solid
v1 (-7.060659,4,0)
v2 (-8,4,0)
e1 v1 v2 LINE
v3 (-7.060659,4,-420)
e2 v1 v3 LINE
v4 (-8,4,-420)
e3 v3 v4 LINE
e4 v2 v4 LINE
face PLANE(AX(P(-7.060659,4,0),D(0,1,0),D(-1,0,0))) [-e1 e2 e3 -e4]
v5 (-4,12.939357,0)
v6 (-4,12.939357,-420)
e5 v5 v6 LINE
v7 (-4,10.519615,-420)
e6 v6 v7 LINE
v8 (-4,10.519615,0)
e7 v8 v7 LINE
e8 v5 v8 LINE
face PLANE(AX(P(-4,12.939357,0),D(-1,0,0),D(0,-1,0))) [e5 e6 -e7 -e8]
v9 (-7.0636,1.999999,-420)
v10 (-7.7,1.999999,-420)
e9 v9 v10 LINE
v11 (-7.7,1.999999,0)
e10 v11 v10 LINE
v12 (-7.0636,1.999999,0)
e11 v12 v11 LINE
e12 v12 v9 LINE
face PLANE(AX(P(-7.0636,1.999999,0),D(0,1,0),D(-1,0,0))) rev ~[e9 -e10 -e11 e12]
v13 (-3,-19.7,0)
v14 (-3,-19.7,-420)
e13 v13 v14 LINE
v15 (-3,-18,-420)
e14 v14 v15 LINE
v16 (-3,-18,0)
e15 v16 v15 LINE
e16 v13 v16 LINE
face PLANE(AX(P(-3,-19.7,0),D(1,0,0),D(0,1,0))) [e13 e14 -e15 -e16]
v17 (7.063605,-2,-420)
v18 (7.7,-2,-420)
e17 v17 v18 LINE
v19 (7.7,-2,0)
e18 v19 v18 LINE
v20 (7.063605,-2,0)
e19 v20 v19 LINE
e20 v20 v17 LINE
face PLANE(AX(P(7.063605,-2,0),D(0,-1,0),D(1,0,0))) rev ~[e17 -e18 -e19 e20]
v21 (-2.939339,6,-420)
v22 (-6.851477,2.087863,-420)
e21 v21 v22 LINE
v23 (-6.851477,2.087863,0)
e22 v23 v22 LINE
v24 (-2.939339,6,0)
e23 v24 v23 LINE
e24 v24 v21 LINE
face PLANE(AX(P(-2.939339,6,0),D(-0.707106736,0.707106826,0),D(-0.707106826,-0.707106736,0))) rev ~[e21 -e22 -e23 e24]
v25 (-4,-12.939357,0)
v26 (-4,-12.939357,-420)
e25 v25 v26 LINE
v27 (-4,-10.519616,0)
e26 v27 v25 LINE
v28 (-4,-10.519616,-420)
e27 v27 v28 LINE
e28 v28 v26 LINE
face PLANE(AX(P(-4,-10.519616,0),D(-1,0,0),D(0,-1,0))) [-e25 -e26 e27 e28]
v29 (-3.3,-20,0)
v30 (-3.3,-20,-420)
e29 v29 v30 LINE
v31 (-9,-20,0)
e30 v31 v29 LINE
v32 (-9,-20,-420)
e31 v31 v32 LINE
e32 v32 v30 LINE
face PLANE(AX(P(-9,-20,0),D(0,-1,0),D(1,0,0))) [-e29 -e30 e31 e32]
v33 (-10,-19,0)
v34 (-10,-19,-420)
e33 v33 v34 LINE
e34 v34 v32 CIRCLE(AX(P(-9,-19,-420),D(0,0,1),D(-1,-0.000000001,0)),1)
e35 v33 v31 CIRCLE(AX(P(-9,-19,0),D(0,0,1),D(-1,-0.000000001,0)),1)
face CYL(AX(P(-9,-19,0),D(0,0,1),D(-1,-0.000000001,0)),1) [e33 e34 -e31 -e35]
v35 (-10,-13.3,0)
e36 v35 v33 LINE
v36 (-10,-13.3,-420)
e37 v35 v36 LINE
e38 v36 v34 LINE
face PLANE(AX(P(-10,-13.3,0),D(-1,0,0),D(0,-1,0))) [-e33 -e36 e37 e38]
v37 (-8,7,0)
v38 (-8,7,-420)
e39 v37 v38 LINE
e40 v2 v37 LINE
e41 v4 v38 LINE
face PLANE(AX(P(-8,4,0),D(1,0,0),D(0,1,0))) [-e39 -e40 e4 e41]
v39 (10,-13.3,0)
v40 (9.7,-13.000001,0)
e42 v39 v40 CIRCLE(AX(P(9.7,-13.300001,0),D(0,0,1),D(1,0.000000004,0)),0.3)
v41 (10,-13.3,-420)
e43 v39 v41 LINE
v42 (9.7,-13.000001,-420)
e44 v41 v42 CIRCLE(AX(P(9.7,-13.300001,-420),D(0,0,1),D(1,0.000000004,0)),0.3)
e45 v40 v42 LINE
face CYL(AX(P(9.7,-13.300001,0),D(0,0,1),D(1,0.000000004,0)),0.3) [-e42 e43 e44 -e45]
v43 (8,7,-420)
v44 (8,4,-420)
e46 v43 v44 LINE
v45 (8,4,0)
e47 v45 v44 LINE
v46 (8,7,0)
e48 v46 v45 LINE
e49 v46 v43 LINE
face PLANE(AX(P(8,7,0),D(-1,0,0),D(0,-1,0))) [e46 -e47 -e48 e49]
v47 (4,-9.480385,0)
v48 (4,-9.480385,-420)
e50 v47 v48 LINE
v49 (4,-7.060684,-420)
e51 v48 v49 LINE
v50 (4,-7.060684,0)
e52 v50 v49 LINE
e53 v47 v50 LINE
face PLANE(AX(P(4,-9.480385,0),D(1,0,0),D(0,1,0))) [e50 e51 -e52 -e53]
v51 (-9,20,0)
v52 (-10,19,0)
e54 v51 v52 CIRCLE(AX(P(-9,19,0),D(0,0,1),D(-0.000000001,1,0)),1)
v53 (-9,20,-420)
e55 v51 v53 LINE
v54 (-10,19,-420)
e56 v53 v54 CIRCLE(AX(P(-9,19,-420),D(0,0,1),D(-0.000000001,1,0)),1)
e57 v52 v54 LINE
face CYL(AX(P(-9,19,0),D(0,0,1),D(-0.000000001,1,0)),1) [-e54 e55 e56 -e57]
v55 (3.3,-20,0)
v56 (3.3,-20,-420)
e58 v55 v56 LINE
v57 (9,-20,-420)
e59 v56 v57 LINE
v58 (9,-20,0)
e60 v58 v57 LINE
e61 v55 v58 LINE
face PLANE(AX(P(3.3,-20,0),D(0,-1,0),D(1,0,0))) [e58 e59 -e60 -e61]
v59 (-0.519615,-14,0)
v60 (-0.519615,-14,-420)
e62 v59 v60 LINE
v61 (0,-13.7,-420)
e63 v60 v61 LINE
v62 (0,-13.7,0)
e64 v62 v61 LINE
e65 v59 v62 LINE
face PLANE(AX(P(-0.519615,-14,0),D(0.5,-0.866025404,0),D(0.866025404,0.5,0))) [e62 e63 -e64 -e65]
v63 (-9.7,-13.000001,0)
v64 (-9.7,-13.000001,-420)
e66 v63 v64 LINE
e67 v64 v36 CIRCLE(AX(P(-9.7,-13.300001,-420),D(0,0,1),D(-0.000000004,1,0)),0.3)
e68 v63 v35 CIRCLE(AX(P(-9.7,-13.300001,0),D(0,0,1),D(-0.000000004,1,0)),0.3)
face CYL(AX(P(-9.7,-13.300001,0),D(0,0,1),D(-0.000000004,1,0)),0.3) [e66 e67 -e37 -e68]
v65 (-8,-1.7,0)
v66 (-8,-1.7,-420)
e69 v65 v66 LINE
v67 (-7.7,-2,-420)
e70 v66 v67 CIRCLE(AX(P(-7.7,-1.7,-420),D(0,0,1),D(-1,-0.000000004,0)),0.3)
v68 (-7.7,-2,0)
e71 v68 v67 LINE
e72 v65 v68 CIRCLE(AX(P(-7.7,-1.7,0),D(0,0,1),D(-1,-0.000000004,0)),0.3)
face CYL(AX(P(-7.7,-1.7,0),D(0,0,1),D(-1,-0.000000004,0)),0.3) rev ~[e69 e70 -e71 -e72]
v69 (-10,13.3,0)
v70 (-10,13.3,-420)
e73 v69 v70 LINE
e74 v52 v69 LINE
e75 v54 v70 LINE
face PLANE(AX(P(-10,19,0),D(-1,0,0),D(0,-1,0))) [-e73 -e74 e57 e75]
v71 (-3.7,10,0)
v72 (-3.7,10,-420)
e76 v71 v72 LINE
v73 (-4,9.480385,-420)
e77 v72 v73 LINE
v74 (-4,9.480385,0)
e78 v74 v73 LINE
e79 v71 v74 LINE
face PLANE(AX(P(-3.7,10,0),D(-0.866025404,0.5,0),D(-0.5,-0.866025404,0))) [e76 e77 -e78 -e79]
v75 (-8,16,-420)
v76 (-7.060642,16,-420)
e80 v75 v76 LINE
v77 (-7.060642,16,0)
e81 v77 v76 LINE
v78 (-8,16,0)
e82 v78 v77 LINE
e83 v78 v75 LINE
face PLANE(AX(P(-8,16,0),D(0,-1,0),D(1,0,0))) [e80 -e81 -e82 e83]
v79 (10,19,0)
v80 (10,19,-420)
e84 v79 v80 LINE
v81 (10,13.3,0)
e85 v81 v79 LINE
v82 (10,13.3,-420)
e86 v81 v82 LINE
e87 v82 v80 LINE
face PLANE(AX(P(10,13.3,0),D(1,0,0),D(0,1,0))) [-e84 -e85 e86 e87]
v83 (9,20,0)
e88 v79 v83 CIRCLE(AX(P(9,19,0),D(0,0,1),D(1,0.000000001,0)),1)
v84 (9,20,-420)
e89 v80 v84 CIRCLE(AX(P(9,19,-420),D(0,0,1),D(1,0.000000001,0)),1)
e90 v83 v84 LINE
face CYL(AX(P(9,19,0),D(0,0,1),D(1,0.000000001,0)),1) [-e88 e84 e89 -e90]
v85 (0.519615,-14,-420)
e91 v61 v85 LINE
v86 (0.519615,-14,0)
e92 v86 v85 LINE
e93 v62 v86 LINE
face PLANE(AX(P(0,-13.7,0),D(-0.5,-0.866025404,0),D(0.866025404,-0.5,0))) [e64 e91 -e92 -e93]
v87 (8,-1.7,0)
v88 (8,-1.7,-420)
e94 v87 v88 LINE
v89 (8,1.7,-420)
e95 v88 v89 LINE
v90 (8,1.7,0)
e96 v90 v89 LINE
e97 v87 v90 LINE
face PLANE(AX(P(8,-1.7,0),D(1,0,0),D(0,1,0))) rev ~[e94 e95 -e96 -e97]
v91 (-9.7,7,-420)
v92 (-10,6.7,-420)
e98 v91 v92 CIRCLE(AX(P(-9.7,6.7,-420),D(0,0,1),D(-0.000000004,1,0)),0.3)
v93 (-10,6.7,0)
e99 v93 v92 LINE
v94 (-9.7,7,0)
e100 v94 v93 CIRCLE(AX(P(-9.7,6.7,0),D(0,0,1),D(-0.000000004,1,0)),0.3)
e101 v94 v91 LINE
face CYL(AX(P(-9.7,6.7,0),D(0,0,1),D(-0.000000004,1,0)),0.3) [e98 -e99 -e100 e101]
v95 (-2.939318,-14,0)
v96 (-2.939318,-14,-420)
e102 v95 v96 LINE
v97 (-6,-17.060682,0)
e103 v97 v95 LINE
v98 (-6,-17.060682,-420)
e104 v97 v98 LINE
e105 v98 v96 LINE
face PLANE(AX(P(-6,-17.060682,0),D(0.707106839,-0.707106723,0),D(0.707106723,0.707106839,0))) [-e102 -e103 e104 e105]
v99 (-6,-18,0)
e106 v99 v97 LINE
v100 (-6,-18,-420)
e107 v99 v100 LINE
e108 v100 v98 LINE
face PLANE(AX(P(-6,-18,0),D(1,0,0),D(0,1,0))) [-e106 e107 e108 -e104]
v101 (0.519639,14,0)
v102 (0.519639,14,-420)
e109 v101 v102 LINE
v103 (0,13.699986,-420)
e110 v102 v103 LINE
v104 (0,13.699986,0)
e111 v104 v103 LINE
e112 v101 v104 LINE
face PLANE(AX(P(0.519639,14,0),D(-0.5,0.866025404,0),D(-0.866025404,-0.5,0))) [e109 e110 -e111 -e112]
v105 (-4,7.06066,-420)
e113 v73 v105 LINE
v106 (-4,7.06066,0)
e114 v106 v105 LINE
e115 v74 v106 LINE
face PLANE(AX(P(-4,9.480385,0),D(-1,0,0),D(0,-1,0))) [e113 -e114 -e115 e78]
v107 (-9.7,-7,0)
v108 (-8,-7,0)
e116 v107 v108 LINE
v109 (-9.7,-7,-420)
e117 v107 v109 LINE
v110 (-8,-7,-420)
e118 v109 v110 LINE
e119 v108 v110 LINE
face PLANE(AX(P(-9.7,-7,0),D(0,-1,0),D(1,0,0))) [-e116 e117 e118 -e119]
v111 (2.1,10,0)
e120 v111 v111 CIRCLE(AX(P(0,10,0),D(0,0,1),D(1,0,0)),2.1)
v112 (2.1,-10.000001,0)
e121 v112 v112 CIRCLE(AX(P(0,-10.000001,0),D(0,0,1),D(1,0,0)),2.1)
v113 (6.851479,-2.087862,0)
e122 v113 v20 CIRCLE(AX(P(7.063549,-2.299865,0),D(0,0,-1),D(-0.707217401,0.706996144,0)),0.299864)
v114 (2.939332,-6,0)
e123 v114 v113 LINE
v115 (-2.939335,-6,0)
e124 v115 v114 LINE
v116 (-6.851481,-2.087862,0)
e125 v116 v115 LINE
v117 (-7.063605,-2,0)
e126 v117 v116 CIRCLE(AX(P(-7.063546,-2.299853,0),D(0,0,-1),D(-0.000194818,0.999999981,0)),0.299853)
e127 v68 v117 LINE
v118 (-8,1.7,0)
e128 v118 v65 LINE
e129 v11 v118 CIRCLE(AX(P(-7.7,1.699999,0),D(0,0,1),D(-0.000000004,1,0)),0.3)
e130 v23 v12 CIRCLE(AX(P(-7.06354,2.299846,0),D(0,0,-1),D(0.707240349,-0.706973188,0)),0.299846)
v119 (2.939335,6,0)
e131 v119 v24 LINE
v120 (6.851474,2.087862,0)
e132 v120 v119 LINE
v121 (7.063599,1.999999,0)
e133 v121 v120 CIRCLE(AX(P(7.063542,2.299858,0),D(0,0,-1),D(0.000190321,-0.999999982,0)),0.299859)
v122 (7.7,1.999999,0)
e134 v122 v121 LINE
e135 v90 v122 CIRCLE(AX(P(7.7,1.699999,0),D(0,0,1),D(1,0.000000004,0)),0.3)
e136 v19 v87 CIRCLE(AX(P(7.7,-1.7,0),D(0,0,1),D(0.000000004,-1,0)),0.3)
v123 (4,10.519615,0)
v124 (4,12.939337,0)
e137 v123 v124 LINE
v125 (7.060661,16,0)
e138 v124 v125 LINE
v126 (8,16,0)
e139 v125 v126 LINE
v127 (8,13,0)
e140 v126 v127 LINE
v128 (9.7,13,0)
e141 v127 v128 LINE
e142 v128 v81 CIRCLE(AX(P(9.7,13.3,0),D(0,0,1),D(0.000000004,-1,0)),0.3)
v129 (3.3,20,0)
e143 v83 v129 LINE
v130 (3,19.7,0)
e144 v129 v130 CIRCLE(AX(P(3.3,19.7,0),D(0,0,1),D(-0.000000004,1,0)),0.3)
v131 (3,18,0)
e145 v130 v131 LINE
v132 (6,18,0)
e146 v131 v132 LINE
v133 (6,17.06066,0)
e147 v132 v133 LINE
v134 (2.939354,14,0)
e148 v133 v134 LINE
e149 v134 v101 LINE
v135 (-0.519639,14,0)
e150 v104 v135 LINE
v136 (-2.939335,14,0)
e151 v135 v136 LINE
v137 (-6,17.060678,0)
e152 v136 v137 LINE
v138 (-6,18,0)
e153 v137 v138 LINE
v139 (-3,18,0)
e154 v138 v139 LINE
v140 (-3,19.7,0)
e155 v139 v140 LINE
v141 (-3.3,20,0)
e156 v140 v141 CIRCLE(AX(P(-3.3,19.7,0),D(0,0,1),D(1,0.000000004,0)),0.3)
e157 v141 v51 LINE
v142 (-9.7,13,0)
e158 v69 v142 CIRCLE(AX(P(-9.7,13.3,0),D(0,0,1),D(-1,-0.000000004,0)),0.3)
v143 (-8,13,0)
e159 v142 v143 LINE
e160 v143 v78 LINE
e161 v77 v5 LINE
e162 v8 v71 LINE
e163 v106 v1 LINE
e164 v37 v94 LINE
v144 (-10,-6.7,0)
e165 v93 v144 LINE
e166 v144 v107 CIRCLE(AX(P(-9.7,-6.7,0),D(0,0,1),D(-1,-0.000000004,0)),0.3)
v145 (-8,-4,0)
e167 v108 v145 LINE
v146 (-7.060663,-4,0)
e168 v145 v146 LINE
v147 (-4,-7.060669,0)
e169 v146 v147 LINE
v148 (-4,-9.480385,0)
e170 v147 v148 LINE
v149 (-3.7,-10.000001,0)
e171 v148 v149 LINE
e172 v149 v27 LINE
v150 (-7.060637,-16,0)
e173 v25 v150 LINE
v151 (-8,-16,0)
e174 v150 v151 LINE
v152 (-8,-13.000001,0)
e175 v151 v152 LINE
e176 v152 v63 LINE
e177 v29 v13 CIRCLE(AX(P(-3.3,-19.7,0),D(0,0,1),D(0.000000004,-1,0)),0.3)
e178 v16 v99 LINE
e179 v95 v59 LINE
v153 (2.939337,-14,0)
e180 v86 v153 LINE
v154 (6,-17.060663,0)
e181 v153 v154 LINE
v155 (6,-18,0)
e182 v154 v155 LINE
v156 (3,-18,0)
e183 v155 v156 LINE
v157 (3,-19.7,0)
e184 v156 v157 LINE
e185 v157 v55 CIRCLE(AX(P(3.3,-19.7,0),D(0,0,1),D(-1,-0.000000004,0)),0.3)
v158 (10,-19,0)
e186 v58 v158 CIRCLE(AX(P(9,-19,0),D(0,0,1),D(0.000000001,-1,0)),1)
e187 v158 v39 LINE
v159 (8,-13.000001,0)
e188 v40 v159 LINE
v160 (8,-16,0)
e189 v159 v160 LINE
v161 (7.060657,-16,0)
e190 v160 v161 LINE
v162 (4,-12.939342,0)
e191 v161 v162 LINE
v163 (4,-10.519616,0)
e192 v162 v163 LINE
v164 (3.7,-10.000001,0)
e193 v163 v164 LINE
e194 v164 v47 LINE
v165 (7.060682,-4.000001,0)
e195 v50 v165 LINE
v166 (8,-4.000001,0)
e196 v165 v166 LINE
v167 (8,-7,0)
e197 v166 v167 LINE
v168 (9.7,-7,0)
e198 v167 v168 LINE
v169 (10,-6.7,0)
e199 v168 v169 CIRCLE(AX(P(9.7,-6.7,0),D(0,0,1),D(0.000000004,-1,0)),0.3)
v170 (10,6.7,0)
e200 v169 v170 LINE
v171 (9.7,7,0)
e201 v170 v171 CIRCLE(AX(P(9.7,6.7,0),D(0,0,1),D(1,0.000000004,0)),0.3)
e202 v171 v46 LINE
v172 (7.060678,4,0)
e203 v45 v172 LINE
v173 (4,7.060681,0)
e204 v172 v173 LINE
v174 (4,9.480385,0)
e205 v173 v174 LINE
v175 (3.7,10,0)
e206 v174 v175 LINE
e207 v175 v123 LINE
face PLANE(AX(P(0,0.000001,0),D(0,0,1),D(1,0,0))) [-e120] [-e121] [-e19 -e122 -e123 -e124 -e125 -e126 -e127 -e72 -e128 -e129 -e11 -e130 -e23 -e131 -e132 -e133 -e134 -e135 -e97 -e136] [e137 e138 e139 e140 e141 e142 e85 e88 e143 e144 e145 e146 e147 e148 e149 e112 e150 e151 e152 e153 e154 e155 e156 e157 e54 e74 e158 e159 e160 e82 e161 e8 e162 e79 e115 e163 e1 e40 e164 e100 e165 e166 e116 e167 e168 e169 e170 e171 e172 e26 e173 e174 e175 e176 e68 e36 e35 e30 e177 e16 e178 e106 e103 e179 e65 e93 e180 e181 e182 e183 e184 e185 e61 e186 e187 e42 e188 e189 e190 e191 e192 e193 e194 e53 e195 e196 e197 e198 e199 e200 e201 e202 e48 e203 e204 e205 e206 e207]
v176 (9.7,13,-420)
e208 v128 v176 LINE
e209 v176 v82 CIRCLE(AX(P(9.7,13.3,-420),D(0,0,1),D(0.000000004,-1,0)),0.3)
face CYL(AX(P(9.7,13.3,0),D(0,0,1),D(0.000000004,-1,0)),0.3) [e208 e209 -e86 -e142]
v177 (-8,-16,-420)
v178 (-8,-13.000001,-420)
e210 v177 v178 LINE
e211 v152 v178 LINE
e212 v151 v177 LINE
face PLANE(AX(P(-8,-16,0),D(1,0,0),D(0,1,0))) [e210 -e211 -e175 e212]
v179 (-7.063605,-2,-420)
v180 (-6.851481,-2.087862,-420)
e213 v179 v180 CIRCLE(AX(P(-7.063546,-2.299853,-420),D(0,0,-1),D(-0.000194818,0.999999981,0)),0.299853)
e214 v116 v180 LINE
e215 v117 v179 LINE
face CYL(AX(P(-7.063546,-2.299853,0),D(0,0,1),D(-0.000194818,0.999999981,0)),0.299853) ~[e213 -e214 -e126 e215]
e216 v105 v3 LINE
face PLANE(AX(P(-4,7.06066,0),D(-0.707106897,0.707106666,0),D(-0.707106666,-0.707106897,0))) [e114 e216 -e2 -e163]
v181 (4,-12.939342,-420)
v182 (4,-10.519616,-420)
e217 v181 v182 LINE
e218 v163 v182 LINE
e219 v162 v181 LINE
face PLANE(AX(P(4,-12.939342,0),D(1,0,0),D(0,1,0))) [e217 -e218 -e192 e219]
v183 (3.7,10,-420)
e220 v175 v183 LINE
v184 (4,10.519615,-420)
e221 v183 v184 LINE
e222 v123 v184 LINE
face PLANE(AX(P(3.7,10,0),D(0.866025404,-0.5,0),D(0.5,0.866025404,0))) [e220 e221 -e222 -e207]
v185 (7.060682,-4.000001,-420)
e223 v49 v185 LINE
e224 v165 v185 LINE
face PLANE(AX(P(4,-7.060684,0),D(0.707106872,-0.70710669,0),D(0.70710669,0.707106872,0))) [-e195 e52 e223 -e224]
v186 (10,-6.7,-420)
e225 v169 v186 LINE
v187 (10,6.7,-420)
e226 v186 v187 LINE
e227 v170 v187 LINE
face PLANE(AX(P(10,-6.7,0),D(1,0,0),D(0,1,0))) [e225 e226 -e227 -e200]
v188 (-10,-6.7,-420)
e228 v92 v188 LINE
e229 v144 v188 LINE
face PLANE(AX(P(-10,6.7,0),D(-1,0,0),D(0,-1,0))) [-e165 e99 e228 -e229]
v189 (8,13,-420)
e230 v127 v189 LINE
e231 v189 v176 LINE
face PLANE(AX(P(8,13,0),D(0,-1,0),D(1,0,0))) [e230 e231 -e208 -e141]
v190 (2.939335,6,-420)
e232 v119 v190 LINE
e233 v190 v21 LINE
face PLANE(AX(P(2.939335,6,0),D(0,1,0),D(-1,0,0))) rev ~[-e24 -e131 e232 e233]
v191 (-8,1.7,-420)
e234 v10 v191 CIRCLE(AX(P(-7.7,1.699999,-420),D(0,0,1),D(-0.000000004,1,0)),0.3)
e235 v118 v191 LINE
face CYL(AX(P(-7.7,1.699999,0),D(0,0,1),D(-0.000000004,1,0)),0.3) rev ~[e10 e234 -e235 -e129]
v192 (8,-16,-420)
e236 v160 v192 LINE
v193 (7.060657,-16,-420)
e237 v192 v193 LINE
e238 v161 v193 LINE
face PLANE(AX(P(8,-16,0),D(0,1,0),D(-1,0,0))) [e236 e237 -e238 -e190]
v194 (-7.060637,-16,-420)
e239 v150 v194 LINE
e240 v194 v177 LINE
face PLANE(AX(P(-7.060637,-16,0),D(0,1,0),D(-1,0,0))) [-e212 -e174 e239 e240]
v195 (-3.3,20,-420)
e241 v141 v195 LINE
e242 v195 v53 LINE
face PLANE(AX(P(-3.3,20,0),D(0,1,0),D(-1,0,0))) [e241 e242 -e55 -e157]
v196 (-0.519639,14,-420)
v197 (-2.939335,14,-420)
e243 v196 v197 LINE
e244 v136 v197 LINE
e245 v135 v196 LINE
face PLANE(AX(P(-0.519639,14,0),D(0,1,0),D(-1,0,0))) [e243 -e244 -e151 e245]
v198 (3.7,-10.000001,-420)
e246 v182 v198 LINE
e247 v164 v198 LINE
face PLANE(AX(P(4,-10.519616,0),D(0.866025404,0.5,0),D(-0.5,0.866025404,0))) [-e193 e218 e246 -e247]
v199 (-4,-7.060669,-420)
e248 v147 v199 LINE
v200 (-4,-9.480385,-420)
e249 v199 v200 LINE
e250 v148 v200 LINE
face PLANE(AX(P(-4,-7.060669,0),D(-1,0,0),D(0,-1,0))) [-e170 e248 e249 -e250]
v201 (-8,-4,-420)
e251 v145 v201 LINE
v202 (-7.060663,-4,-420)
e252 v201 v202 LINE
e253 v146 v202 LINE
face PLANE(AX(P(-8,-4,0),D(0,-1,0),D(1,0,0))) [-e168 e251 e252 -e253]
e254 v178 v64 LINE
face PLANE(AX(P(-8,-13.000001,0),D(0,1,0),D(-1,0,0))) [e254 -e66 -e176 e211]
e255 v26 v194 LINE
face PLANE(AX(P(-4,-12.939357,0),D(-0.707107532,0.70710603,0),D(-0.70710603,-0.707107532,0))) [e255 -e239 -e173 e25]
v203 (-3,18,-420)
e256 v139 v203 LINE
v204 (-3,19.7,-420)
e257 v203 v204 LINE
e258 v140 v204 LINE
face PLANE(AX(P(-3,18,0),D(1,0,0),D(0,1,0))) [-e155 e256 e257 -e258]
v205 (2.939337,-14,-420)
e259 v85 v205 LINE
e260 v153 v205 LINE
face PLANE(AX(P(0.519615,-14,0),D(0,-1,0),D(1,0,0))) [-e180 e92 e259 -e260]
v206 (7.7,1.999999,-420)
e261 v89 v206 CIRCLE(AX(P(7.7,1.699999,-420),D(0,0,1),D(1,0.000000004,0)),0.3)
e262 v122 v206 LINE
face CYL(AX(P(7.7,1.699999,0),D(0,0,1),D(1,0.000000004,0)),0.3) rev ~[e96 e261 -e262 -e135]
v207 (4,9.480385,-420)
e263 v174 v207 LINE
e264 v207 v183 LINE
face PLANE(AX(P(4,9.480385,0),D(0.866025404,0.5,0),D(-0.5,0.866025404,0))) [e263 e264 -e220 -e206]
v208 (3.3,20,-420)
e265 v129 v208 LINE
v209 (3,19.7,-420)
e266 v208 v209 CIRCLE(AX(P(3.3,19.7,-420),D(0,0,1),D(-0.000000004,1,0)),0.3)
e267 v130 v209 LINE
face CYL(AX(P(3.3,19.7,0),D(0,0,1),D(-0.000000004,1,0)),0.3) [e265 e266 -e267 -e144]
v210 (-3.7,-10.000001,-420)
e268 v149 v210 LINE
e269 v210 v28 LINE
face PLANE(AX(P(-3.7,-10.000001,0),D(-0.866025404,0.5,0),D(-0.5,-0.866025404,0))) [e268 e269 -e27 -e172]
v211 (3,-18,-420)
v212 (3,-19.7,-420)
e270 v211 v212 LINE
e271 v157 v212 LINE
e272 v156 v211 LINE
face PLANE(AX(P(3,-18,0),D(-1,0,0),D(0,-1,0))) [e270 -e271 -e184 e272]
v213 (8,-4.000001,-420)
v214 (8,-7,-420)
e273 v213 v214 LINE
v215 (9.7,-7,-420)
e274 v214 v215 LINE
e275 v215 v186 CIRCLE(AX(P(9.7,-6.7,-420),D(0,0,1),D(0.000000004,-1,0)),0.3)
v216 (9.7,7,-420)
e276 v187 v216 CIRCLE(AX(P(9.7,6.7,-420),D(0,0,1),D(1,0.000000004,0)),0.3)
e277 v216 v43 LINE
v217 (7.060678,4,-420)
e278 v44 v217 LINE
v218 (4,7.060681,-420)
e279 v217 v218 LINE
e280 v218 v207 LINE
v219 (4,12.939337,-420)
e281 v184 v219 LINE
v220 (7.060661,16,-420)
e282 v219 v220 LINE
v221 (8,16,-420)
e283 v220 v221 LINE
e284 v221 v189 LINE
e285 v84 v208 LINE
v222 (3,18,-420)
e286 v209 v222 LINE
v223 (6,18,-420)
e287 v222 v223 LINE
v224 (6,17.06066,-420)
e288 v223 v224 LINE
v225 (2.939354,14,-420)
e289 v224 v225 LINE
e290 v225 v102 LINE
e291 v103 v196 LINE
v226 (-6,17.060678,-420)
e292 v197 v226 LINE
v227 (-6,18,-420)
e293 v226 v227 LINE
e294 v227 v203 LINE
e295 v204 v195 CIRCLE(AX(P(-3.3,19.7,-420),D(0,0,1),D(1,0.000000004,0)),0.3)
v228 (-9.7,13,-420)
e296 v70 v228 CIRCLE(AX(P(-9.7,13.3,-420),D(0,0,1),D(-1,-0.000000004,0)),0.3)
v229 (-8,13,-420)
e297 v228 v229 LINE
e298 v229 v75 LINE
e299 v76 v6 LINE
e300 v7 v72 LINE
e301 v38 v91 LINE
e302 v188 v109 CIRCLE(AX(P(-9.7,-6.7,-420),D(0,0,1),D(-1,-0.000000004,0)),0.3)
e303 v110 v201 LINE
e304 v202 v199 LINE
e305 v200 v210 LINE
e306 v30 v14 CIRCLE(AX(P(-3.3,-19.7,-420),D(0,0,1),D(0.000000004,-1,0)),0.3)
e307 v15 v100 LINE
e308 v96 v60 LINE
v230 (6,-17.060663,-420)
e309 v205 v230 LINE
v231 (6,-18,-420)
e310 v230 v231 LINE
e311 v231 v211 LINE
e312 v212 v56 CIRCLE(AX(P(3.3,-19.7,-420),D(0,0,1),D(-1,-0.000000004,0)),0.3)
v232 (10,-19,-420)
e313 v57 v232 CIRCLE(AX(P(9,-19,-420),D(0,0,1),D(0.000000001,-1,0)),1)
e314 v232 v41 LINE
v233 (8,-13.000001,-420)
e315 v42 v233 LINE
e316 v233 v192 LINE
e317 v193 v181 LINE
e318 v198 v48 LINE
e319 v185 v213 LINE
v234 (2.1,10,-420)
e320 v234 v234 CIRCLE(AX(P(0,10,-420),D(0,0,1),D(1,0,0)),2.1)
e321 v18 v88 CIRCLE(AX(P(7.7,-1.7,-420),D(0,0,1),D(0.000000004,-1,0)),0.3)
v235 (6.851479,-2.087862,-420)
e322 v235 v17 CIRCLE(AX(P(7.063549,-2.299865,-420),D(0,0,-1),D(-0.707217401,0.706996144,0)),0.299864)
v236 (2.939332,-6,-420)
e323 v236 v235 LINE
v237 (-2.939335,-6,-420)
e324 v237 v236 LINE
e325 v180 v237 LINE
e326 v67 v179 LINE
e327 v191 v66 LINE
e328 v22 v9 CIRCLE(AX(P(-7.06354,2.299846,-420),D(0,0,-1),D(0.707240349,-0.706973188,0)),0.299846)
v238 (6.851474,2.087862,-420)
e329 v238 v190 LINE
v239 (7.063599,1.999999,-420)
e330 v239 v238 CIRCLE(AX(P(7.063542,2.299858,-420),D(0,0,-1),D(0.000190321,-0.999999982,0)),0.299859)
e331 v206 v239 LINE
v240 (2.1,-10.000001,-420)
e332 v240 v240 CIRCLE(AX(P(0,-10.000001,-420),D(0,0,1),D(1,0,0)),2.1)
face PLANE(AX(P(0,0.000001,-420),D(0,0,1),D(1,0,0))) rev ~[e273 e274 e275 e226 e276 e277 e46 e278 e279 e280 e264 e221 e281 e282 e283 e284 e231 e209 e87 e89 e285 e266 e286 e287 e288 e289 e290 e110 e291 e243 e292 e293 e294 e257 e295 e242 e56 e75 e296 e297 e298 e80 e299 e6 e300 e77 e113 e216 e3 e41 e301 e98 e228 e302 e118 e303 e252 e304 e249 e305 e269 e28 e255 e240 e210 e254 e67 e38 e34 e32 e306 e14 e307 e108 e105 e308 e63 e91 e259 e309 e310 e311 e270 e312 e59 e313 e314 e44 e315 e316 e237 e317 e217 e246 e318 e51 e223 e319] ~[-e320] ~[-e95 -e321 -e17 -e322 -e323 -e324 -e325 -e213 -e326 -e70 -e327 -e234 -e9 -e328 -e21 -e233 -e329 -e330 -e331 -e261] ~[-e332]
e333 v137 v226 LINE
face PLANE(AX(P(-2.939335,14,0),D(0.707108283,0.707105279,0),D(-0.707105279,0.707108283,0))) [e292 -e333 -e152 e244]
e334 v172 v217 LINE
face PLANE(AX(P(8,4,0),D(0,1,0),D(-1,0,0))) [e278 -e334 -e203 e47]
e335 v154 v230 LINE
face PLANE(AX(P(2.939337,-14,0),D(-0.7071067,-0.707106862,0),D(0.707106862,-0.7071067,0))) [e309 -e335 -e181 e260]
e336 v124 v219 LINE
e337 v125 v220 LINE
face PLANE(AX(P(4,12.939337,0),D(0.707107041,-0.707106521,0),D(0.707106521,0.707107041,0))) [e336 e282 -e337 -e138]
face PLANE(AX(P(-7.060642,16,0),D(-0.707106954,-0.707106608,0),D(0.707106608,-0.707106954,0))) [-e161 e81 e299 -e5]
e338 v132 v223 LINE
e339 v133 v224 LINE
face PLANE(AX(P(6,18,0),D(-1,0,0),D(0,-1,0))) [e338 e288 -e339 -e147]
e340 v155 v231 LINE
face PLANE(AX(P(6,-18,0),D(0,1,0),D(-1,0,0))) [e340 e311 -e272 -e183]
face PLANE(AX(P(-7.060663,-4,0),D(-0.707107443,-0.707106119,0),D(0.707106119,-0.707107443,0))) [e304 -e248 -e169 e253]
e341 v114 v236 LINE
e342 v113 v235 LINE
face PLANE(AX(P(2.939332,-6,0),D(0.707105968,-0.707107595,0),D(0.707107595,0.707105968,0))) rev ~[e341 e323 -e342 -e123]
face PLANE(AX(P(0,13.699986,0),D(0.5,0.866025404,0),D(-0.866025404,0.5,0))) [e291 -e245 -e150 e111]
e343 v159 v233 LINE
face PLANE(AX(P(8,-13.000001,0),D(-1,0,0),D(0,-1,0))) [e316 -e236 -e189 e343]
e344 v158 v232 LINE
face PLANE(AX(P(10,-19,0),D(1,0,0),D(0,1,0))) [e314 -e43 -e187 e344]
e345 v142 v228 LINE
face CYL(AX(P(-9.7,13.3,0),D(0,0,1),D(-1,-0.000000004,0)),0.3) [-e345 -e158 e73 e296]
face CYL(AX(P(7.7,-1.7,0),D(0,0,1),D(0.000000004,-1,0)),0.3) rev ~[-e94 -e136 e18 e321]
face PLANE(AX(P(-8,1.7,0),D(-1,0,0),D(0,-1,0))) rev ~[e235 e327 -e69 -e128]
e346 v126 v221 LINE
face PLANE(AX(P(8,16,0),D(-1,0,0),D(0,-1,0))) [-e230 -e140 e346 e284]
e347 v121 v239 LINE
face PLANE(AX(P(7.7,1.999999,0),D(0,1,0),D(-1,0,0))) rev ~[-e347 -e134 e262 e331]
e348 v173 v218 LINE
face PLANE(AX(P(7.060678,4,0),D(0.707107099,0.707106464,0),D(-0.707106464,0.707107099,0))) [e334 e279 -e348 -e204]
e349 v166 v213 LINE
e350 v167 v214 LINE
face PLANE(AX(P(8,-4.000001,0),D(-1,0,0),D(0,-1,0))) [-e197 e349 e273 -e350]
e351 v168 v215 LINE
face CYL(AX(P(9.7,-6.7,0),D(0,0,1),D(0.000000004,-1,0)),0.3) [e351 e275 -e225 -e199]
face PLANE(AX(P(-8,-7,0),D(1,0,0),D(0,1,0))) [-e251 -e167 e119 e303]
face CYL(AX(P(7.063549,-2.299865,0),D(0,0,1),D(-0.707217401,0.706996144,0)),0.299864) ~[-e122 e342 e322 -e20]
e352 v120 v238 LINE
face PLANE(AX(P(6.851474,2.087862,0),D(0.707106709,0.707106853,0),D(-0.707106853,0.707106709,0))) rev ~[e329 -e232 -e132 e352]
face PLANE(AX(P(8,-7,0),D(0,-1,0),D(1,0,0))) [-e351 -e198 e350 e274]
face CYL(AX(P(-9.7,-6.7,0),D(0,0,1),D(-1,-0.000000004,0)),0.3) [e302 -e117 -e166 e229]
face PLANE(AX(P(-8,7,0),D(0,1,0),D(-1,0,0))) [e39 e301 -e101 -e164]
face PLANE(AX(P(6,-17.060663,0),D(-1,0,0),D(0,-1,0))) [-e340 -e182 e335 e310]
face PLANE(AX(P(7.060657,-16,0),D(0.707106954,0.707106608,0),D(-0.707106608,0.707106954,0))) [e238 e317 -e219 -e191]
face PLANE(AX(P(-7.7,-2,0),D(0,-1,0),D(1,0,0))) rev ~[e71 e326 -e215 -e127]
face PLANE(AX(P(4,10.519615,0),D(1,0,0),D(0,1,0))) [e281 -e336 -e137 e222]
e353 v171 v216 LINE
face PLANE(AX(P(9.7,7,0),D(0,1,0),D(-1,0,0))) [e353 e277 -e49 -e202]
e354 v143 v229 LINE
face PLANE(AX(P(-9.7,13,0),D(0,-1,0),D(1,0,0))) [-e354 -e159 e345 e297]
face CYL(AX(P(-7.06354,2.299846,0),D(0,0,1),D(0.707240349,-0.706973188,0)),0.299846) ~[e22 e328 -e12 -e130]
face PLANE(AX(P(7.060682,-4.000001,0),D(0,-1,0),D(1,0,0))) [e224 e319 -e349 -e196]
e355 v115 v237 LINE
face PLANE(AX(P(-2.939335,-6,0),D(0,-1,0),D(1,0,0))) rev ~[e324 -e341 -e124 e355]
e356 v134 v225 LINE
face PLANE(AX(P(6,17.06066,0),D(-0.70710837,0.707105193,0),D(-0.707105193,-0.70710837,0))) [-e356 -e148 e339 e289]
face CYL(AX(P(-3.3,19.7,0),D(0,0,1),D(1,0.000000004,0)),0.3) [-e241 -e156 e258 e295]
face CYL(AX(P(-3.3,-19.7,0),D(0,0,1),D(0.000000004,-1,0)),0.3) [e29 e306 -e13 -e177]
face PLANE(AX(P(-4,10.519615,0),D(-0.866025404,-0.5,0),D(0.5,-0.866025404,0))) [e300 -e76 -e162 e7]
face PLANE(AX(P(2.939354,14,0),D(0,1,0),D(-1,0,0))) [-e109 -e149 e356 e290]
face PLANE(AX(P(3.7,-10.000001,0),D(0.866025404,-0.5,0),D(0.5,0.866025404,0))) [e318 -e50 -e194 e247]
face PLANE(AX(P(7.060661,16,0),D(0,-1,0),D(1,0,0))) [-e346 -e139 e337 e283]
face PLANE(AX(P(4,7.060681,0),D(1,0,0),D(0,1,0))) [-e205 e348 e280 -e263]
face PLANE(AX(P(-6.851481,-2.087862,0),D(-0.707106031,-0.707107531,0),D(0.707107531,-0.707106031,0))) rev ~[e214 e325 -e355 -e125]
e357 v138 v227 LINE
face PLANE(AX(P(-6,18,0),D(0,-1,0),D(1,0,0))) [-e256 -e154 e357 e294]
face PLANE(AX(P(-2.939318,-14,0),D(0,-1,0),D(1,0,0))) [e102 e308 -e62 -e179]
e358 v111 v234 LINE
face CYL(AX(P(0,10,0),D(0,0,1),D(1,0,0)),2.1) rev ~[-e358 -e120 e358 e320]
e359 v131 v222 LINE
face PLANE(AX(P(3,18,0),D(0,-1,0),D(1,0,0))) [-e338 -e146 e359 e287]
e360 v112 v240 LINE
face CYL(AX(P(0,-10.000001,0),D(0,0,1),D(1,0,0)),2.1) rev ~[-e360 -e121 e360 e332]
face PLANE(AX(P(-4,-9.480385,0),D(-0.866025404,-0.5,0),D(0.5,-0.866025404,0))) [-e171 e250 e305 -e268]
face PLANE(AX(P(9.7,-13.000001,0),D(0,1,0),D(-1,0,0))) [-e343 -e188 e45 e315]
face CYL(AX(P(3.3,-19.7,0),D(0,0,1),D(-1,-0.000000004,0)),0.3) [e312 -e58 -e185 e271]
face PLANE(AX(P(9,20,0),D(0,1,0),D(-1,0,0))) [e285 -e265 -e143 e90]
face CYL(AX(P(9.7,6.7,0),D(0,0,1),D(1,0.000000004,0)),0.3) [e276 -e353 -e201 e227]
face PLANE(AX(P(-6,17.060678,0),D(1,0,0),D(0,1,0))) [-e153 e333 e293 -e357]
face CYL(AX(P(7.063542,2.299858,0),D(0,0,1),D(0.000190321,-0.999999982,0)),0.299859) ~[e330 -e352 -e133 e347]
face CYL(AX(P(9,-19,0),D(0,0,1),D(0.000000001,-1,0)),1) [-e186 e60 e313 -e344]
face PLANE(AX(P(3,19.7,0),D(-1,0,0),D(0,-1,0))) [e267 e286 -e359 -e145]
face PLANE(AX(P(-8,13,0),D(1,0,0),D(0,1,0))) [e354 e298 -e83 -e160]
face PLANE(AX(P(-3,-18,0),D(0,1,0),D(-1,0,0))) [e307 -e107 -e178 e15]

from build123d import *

# Parameters (mm, degrees)
SKETCH1_R           = 2.0999999
BOSS_EXTRUDE1_DEPTH = 420


with BuildPart() as part:
    # Sketch1 → Boss-Extrude1 (new body)
    with BuildSketch(Plane.XY):
        with BuildLine():
            Line((-10, -13.3000005), (-10, -19))
            ThreePointArc((-10, -19), (-9.707106781, -19.707106781), (-9, -20))
            Line((-9, -20), (-3.3, -20))
            ThreePointArc((-3.3, -20), (-3.087867966, -19.912132034), (-3, -19.7))
            Line((-3, -19.7), (-3, -18))
            Line((-3, -18), (-6, -18))
            Line((-6, -18), (-6, -17.0606825))
            Line((-6, -17.0606825), (-2.939318, -14))
            Line((-2.939318, -14), (-0.519615242, -14))
            Line((-0.519615242, -14), (0, -13.7))
            Line((0, -13.7), (0.519615242, -14))
            Line((0.519615242, -14), (2.9393365, -14))
            Line((2.9393365, -14), (6, -17.0606628))
            Line((6, -17.0606628), (6, -18))
            Line((6, -18), (3, -18))
            Line((3, -18), (3, -19.7))
            ThreePointArc((3, -19.7), (3.087867966, -19.912132034), (3.3, -20))
            Line((3.3, -20), (9, -20))
            ThreePointArc((9, -20), (9.707106781, -19.707106781), (10, -19))
            Line((10, -19), (10, -13.3000005))
            ThreePointArc((10, -13.3000005), (9.912132034, -13.087868466), (9.7, -13.0000005))
            Line((9.7, -13.0000005), (8, -13.0000005))
            Line((8, -13.0000005), (8, -16.0000005))
            Line((8, -16.0000005), (7.06065685, -16.0000005))
            Line((7.06065685, -16.0000005), (4, -12.93934215))
            Line((4, -12.93934215), (4, -10.519615742))
            Line((4, -10.519615742), (3.7, -10.0000005))
            Line((3.7, -10.0000005), (4, -9.480385258))
            Line((4, -9.480385258), (4, -7.06068365))
            Line((4, -7.06068365), (7.06068236, -4.000000504))
            Line((7.06068236, -4.000000504), (8, -4.000000504))
            Line((8, -4.000000504), (8, -7.0000005))
            Line((8, -7.0000005), (9.7, -7.0000005))
            ThreePointArc((9.7, -7.0000005), (9.912132034, -6.912132534), (10, -6.7000005))
            Line((10, -6.7000005), (10, 6.7))
            ThreePointArc((10, 6.7), (9.912132034, 6.912132034), (9.7, 7))
            Line((9.7, 7), (8, 7))
            Line((8, 7), (8, 4))
            Line((8, 4), (7.060678, 4))
            Line((7.060678, 4), (4, 7.06068075))
            Line((4, 7.06068075), (4, 9.480384758))
            Line((4, 9.480384758), (3.7, 10))
            Line((3.7, 10), (4, 10.519615242))
            Line((4, 10.519615242), (4, 12.93933675))
            Line((4, 12.93933675), (7.060661, 16))
            Line((7.060661, 16), (8, 16))
            Line((8, 16), (8, 13))
            Line((8, 13), (9.7, 13))
            ThreePointArc((9.7, 13), (9.912132034, 13.087867966), (10, 13.3))
            Line((10, 13.3), (10, 19))
            ThreePointArc((10, 19), (9.707106781, 19.707106781), (9, 20))
            Line((9, 20), (3.3, 20))
            ThreePointArc((3.3, 20), (3.087867966, 19.912132034), (3, 19.7))
            Line((3, 19.7), (3, 18))
            Line((3, 18), (6, 18))
            Line((6, 18), (6, 17.06065975))
            Line((6, 17.06065975), (2.939354, 14))
            Line((2.939354, 14), (0.519638625, 14))
            Line((0.519638625, 14), (0, 13.6999865))
            Line((0, 13.6999865), (-0.519638625, 14))
            Line((-0.519638625, 14), (-2.939335, 14))
            Line((-2.939335, 14), (-6, 17.060678))
            Line((-6, 17.060678), (-6, 18))
            Line((-6, 18), (-3, 18))
            Line((-3, 18), (-3, 19.7))
            ThreePointArc((-3, 19.7), (-3.087867966, 19.912132034), (-3.3, 20))
            Line((-3.3, 20), (-9, 20))
            ThreePointArc((-9, 20), (-9.707106781, 19.707106781), (-10, 19))
            Line((-10, 19), (-10, 13.3))
            ThreePointArc((-10, 13.3), (-9.912132034, 13.087867966), (-9.7, 13))
            Line((-9.7, 13), (-8, 13))
            Line((-8, 13), (-8, 16))
            Line((-8, 16), (-7.060642, 16))
            Line((-7.060642, 16), (-4, 12.9393565))
            Line((-4, 12.9393565), (-4, 10.519615242))
            Line((-4, 10.519615242), (-3.7, 10))
            Line((-3.7, 10), (-4, 9.480384758))
            Line((-4, 9.480384758), (-4, 7.06066))
            Line((-4, 7.06066), (-7.060659, 4))
            Line((-7.060659, 4), (-8, 4))
            Line((-8, 4), (-8, 7))
            Line((-8, 7), (-9.7, 7))
            ThreePointArc((-9.7, 7), (-9.912132034, 6.912132034), (-10, 6.7))
            Line((-10, 6.7), (-10, -6.7000005))
            ThreePointArc((-10, -6.7000005), (-9.912132034, -6.912132534), (-9.7, -7.0000005))
            Line((-9.7, -7.0000005), (-8, -7.0000005))
            Line((-8, -7.0000005), (-8, -4.0000005))
            Line((-8, -4.0000005), (-7.06066257, -4.0000005))
            Line((-7.06066257, -4.0000005), (-4, -7.0606688))
            Line((-4, -7.0606688), (-4, -9.480385258))
            Line((-4, -9.480385258), (-3.7, -10.0000005))
            Line((-3.7, -10.0000005), (-4, -10.519615742))
            Line((-4, -10.519615742), (-4, -12.9393575))
            Line((-4, -12.9393575), (-7.0606365, -16.0000005))
            Line((-7.0606365, -16.0000005), (-8, -16.0000005))
            Line((-8, -16.0000005), (-8, -13.0000005))
            Line((-8, -13.0000005), (-9.7, -13.0000005))
            ThreePointArc((-9.7, -13.0000005), (-9.912132034, -13.087868466), (-10, -13.3000005))
        make_face()
        with Locations((0, 10)):
            Circle(SKETCH1_R, mode=Mode.SUBTRACT)
        with Locations((0, -10.0000005)):
            Circle(SKETCH1_R, mode=Mode.SUBTRACT)
        with BuildLine():
            Line((-8, 1.6999995), (-8, -1.70000025))
            ThreePointArc((-8, -1.70000025), (-7.912132034, -1.912132284), (-7.7, -2.00000025))
            Line((-7.7, -2.00000025), (-7.063604538, -2.00000025))
            ThreePointArc((-7.063604538, -2.00000025), (-6.948800316, -2.022823986), (-6.851481305, -2.087861995))
            Line((-6.851481305, -2.087861995), (-2.939335, -6))
            Line((-2.939335, -6), (2.93933195, -6))
            Line((2.93933195, -6), (6.851479294, -2.087861656))
            ThreePointArc((6.851479294, -2.087861656), (6.948799922, -2.022824212), (7.06360515, -2.00000025))
            Line((7.06360515, -2.00000025), (7.7, -2.00000025))
            ThreePointArc((7.7, -2.00000025), (7.912132034, -1.912132284), (8, -1.70000025))
            Line((8, -1.70000025), (8, 1.6999995))
            ThreePointArc((8, 1.6999995), (7.912132034, 1.912131534), (7.7, 1.9999995))
            Line((7.7, 1.9999995), (7.06359945, 1.9999995))
            ThreePointArc((7.06359945, 1.9999995), (6.9487942, 2.022823721), (6.851474147, 2.087862153))
            Line((6.851474147, 2.087862153), (2.9393355, 6))
            Line((2.9393355, 6), (-2.939339, 6))
            Line((-2.939339, 6), (-6.851476944, 2.087862556))
            ThreePointArc((-6.851476944, 2.087862556), (-6.948795311, 2.022823488), (-7.063599538, 1.9999995))
            Line((-7.063599538, 1.9999995), (-7.7, 1.9999995))
            ThreePointArc((-7.7, 1.9999995), (-7.912132034, 1.912131534), (-8, 1.6999995))
        make_face(mode=Mode.SUBTRACT)
    extrude(amount=-BOSS_EXTRUDE1_DEPTH)


solid = part.part
